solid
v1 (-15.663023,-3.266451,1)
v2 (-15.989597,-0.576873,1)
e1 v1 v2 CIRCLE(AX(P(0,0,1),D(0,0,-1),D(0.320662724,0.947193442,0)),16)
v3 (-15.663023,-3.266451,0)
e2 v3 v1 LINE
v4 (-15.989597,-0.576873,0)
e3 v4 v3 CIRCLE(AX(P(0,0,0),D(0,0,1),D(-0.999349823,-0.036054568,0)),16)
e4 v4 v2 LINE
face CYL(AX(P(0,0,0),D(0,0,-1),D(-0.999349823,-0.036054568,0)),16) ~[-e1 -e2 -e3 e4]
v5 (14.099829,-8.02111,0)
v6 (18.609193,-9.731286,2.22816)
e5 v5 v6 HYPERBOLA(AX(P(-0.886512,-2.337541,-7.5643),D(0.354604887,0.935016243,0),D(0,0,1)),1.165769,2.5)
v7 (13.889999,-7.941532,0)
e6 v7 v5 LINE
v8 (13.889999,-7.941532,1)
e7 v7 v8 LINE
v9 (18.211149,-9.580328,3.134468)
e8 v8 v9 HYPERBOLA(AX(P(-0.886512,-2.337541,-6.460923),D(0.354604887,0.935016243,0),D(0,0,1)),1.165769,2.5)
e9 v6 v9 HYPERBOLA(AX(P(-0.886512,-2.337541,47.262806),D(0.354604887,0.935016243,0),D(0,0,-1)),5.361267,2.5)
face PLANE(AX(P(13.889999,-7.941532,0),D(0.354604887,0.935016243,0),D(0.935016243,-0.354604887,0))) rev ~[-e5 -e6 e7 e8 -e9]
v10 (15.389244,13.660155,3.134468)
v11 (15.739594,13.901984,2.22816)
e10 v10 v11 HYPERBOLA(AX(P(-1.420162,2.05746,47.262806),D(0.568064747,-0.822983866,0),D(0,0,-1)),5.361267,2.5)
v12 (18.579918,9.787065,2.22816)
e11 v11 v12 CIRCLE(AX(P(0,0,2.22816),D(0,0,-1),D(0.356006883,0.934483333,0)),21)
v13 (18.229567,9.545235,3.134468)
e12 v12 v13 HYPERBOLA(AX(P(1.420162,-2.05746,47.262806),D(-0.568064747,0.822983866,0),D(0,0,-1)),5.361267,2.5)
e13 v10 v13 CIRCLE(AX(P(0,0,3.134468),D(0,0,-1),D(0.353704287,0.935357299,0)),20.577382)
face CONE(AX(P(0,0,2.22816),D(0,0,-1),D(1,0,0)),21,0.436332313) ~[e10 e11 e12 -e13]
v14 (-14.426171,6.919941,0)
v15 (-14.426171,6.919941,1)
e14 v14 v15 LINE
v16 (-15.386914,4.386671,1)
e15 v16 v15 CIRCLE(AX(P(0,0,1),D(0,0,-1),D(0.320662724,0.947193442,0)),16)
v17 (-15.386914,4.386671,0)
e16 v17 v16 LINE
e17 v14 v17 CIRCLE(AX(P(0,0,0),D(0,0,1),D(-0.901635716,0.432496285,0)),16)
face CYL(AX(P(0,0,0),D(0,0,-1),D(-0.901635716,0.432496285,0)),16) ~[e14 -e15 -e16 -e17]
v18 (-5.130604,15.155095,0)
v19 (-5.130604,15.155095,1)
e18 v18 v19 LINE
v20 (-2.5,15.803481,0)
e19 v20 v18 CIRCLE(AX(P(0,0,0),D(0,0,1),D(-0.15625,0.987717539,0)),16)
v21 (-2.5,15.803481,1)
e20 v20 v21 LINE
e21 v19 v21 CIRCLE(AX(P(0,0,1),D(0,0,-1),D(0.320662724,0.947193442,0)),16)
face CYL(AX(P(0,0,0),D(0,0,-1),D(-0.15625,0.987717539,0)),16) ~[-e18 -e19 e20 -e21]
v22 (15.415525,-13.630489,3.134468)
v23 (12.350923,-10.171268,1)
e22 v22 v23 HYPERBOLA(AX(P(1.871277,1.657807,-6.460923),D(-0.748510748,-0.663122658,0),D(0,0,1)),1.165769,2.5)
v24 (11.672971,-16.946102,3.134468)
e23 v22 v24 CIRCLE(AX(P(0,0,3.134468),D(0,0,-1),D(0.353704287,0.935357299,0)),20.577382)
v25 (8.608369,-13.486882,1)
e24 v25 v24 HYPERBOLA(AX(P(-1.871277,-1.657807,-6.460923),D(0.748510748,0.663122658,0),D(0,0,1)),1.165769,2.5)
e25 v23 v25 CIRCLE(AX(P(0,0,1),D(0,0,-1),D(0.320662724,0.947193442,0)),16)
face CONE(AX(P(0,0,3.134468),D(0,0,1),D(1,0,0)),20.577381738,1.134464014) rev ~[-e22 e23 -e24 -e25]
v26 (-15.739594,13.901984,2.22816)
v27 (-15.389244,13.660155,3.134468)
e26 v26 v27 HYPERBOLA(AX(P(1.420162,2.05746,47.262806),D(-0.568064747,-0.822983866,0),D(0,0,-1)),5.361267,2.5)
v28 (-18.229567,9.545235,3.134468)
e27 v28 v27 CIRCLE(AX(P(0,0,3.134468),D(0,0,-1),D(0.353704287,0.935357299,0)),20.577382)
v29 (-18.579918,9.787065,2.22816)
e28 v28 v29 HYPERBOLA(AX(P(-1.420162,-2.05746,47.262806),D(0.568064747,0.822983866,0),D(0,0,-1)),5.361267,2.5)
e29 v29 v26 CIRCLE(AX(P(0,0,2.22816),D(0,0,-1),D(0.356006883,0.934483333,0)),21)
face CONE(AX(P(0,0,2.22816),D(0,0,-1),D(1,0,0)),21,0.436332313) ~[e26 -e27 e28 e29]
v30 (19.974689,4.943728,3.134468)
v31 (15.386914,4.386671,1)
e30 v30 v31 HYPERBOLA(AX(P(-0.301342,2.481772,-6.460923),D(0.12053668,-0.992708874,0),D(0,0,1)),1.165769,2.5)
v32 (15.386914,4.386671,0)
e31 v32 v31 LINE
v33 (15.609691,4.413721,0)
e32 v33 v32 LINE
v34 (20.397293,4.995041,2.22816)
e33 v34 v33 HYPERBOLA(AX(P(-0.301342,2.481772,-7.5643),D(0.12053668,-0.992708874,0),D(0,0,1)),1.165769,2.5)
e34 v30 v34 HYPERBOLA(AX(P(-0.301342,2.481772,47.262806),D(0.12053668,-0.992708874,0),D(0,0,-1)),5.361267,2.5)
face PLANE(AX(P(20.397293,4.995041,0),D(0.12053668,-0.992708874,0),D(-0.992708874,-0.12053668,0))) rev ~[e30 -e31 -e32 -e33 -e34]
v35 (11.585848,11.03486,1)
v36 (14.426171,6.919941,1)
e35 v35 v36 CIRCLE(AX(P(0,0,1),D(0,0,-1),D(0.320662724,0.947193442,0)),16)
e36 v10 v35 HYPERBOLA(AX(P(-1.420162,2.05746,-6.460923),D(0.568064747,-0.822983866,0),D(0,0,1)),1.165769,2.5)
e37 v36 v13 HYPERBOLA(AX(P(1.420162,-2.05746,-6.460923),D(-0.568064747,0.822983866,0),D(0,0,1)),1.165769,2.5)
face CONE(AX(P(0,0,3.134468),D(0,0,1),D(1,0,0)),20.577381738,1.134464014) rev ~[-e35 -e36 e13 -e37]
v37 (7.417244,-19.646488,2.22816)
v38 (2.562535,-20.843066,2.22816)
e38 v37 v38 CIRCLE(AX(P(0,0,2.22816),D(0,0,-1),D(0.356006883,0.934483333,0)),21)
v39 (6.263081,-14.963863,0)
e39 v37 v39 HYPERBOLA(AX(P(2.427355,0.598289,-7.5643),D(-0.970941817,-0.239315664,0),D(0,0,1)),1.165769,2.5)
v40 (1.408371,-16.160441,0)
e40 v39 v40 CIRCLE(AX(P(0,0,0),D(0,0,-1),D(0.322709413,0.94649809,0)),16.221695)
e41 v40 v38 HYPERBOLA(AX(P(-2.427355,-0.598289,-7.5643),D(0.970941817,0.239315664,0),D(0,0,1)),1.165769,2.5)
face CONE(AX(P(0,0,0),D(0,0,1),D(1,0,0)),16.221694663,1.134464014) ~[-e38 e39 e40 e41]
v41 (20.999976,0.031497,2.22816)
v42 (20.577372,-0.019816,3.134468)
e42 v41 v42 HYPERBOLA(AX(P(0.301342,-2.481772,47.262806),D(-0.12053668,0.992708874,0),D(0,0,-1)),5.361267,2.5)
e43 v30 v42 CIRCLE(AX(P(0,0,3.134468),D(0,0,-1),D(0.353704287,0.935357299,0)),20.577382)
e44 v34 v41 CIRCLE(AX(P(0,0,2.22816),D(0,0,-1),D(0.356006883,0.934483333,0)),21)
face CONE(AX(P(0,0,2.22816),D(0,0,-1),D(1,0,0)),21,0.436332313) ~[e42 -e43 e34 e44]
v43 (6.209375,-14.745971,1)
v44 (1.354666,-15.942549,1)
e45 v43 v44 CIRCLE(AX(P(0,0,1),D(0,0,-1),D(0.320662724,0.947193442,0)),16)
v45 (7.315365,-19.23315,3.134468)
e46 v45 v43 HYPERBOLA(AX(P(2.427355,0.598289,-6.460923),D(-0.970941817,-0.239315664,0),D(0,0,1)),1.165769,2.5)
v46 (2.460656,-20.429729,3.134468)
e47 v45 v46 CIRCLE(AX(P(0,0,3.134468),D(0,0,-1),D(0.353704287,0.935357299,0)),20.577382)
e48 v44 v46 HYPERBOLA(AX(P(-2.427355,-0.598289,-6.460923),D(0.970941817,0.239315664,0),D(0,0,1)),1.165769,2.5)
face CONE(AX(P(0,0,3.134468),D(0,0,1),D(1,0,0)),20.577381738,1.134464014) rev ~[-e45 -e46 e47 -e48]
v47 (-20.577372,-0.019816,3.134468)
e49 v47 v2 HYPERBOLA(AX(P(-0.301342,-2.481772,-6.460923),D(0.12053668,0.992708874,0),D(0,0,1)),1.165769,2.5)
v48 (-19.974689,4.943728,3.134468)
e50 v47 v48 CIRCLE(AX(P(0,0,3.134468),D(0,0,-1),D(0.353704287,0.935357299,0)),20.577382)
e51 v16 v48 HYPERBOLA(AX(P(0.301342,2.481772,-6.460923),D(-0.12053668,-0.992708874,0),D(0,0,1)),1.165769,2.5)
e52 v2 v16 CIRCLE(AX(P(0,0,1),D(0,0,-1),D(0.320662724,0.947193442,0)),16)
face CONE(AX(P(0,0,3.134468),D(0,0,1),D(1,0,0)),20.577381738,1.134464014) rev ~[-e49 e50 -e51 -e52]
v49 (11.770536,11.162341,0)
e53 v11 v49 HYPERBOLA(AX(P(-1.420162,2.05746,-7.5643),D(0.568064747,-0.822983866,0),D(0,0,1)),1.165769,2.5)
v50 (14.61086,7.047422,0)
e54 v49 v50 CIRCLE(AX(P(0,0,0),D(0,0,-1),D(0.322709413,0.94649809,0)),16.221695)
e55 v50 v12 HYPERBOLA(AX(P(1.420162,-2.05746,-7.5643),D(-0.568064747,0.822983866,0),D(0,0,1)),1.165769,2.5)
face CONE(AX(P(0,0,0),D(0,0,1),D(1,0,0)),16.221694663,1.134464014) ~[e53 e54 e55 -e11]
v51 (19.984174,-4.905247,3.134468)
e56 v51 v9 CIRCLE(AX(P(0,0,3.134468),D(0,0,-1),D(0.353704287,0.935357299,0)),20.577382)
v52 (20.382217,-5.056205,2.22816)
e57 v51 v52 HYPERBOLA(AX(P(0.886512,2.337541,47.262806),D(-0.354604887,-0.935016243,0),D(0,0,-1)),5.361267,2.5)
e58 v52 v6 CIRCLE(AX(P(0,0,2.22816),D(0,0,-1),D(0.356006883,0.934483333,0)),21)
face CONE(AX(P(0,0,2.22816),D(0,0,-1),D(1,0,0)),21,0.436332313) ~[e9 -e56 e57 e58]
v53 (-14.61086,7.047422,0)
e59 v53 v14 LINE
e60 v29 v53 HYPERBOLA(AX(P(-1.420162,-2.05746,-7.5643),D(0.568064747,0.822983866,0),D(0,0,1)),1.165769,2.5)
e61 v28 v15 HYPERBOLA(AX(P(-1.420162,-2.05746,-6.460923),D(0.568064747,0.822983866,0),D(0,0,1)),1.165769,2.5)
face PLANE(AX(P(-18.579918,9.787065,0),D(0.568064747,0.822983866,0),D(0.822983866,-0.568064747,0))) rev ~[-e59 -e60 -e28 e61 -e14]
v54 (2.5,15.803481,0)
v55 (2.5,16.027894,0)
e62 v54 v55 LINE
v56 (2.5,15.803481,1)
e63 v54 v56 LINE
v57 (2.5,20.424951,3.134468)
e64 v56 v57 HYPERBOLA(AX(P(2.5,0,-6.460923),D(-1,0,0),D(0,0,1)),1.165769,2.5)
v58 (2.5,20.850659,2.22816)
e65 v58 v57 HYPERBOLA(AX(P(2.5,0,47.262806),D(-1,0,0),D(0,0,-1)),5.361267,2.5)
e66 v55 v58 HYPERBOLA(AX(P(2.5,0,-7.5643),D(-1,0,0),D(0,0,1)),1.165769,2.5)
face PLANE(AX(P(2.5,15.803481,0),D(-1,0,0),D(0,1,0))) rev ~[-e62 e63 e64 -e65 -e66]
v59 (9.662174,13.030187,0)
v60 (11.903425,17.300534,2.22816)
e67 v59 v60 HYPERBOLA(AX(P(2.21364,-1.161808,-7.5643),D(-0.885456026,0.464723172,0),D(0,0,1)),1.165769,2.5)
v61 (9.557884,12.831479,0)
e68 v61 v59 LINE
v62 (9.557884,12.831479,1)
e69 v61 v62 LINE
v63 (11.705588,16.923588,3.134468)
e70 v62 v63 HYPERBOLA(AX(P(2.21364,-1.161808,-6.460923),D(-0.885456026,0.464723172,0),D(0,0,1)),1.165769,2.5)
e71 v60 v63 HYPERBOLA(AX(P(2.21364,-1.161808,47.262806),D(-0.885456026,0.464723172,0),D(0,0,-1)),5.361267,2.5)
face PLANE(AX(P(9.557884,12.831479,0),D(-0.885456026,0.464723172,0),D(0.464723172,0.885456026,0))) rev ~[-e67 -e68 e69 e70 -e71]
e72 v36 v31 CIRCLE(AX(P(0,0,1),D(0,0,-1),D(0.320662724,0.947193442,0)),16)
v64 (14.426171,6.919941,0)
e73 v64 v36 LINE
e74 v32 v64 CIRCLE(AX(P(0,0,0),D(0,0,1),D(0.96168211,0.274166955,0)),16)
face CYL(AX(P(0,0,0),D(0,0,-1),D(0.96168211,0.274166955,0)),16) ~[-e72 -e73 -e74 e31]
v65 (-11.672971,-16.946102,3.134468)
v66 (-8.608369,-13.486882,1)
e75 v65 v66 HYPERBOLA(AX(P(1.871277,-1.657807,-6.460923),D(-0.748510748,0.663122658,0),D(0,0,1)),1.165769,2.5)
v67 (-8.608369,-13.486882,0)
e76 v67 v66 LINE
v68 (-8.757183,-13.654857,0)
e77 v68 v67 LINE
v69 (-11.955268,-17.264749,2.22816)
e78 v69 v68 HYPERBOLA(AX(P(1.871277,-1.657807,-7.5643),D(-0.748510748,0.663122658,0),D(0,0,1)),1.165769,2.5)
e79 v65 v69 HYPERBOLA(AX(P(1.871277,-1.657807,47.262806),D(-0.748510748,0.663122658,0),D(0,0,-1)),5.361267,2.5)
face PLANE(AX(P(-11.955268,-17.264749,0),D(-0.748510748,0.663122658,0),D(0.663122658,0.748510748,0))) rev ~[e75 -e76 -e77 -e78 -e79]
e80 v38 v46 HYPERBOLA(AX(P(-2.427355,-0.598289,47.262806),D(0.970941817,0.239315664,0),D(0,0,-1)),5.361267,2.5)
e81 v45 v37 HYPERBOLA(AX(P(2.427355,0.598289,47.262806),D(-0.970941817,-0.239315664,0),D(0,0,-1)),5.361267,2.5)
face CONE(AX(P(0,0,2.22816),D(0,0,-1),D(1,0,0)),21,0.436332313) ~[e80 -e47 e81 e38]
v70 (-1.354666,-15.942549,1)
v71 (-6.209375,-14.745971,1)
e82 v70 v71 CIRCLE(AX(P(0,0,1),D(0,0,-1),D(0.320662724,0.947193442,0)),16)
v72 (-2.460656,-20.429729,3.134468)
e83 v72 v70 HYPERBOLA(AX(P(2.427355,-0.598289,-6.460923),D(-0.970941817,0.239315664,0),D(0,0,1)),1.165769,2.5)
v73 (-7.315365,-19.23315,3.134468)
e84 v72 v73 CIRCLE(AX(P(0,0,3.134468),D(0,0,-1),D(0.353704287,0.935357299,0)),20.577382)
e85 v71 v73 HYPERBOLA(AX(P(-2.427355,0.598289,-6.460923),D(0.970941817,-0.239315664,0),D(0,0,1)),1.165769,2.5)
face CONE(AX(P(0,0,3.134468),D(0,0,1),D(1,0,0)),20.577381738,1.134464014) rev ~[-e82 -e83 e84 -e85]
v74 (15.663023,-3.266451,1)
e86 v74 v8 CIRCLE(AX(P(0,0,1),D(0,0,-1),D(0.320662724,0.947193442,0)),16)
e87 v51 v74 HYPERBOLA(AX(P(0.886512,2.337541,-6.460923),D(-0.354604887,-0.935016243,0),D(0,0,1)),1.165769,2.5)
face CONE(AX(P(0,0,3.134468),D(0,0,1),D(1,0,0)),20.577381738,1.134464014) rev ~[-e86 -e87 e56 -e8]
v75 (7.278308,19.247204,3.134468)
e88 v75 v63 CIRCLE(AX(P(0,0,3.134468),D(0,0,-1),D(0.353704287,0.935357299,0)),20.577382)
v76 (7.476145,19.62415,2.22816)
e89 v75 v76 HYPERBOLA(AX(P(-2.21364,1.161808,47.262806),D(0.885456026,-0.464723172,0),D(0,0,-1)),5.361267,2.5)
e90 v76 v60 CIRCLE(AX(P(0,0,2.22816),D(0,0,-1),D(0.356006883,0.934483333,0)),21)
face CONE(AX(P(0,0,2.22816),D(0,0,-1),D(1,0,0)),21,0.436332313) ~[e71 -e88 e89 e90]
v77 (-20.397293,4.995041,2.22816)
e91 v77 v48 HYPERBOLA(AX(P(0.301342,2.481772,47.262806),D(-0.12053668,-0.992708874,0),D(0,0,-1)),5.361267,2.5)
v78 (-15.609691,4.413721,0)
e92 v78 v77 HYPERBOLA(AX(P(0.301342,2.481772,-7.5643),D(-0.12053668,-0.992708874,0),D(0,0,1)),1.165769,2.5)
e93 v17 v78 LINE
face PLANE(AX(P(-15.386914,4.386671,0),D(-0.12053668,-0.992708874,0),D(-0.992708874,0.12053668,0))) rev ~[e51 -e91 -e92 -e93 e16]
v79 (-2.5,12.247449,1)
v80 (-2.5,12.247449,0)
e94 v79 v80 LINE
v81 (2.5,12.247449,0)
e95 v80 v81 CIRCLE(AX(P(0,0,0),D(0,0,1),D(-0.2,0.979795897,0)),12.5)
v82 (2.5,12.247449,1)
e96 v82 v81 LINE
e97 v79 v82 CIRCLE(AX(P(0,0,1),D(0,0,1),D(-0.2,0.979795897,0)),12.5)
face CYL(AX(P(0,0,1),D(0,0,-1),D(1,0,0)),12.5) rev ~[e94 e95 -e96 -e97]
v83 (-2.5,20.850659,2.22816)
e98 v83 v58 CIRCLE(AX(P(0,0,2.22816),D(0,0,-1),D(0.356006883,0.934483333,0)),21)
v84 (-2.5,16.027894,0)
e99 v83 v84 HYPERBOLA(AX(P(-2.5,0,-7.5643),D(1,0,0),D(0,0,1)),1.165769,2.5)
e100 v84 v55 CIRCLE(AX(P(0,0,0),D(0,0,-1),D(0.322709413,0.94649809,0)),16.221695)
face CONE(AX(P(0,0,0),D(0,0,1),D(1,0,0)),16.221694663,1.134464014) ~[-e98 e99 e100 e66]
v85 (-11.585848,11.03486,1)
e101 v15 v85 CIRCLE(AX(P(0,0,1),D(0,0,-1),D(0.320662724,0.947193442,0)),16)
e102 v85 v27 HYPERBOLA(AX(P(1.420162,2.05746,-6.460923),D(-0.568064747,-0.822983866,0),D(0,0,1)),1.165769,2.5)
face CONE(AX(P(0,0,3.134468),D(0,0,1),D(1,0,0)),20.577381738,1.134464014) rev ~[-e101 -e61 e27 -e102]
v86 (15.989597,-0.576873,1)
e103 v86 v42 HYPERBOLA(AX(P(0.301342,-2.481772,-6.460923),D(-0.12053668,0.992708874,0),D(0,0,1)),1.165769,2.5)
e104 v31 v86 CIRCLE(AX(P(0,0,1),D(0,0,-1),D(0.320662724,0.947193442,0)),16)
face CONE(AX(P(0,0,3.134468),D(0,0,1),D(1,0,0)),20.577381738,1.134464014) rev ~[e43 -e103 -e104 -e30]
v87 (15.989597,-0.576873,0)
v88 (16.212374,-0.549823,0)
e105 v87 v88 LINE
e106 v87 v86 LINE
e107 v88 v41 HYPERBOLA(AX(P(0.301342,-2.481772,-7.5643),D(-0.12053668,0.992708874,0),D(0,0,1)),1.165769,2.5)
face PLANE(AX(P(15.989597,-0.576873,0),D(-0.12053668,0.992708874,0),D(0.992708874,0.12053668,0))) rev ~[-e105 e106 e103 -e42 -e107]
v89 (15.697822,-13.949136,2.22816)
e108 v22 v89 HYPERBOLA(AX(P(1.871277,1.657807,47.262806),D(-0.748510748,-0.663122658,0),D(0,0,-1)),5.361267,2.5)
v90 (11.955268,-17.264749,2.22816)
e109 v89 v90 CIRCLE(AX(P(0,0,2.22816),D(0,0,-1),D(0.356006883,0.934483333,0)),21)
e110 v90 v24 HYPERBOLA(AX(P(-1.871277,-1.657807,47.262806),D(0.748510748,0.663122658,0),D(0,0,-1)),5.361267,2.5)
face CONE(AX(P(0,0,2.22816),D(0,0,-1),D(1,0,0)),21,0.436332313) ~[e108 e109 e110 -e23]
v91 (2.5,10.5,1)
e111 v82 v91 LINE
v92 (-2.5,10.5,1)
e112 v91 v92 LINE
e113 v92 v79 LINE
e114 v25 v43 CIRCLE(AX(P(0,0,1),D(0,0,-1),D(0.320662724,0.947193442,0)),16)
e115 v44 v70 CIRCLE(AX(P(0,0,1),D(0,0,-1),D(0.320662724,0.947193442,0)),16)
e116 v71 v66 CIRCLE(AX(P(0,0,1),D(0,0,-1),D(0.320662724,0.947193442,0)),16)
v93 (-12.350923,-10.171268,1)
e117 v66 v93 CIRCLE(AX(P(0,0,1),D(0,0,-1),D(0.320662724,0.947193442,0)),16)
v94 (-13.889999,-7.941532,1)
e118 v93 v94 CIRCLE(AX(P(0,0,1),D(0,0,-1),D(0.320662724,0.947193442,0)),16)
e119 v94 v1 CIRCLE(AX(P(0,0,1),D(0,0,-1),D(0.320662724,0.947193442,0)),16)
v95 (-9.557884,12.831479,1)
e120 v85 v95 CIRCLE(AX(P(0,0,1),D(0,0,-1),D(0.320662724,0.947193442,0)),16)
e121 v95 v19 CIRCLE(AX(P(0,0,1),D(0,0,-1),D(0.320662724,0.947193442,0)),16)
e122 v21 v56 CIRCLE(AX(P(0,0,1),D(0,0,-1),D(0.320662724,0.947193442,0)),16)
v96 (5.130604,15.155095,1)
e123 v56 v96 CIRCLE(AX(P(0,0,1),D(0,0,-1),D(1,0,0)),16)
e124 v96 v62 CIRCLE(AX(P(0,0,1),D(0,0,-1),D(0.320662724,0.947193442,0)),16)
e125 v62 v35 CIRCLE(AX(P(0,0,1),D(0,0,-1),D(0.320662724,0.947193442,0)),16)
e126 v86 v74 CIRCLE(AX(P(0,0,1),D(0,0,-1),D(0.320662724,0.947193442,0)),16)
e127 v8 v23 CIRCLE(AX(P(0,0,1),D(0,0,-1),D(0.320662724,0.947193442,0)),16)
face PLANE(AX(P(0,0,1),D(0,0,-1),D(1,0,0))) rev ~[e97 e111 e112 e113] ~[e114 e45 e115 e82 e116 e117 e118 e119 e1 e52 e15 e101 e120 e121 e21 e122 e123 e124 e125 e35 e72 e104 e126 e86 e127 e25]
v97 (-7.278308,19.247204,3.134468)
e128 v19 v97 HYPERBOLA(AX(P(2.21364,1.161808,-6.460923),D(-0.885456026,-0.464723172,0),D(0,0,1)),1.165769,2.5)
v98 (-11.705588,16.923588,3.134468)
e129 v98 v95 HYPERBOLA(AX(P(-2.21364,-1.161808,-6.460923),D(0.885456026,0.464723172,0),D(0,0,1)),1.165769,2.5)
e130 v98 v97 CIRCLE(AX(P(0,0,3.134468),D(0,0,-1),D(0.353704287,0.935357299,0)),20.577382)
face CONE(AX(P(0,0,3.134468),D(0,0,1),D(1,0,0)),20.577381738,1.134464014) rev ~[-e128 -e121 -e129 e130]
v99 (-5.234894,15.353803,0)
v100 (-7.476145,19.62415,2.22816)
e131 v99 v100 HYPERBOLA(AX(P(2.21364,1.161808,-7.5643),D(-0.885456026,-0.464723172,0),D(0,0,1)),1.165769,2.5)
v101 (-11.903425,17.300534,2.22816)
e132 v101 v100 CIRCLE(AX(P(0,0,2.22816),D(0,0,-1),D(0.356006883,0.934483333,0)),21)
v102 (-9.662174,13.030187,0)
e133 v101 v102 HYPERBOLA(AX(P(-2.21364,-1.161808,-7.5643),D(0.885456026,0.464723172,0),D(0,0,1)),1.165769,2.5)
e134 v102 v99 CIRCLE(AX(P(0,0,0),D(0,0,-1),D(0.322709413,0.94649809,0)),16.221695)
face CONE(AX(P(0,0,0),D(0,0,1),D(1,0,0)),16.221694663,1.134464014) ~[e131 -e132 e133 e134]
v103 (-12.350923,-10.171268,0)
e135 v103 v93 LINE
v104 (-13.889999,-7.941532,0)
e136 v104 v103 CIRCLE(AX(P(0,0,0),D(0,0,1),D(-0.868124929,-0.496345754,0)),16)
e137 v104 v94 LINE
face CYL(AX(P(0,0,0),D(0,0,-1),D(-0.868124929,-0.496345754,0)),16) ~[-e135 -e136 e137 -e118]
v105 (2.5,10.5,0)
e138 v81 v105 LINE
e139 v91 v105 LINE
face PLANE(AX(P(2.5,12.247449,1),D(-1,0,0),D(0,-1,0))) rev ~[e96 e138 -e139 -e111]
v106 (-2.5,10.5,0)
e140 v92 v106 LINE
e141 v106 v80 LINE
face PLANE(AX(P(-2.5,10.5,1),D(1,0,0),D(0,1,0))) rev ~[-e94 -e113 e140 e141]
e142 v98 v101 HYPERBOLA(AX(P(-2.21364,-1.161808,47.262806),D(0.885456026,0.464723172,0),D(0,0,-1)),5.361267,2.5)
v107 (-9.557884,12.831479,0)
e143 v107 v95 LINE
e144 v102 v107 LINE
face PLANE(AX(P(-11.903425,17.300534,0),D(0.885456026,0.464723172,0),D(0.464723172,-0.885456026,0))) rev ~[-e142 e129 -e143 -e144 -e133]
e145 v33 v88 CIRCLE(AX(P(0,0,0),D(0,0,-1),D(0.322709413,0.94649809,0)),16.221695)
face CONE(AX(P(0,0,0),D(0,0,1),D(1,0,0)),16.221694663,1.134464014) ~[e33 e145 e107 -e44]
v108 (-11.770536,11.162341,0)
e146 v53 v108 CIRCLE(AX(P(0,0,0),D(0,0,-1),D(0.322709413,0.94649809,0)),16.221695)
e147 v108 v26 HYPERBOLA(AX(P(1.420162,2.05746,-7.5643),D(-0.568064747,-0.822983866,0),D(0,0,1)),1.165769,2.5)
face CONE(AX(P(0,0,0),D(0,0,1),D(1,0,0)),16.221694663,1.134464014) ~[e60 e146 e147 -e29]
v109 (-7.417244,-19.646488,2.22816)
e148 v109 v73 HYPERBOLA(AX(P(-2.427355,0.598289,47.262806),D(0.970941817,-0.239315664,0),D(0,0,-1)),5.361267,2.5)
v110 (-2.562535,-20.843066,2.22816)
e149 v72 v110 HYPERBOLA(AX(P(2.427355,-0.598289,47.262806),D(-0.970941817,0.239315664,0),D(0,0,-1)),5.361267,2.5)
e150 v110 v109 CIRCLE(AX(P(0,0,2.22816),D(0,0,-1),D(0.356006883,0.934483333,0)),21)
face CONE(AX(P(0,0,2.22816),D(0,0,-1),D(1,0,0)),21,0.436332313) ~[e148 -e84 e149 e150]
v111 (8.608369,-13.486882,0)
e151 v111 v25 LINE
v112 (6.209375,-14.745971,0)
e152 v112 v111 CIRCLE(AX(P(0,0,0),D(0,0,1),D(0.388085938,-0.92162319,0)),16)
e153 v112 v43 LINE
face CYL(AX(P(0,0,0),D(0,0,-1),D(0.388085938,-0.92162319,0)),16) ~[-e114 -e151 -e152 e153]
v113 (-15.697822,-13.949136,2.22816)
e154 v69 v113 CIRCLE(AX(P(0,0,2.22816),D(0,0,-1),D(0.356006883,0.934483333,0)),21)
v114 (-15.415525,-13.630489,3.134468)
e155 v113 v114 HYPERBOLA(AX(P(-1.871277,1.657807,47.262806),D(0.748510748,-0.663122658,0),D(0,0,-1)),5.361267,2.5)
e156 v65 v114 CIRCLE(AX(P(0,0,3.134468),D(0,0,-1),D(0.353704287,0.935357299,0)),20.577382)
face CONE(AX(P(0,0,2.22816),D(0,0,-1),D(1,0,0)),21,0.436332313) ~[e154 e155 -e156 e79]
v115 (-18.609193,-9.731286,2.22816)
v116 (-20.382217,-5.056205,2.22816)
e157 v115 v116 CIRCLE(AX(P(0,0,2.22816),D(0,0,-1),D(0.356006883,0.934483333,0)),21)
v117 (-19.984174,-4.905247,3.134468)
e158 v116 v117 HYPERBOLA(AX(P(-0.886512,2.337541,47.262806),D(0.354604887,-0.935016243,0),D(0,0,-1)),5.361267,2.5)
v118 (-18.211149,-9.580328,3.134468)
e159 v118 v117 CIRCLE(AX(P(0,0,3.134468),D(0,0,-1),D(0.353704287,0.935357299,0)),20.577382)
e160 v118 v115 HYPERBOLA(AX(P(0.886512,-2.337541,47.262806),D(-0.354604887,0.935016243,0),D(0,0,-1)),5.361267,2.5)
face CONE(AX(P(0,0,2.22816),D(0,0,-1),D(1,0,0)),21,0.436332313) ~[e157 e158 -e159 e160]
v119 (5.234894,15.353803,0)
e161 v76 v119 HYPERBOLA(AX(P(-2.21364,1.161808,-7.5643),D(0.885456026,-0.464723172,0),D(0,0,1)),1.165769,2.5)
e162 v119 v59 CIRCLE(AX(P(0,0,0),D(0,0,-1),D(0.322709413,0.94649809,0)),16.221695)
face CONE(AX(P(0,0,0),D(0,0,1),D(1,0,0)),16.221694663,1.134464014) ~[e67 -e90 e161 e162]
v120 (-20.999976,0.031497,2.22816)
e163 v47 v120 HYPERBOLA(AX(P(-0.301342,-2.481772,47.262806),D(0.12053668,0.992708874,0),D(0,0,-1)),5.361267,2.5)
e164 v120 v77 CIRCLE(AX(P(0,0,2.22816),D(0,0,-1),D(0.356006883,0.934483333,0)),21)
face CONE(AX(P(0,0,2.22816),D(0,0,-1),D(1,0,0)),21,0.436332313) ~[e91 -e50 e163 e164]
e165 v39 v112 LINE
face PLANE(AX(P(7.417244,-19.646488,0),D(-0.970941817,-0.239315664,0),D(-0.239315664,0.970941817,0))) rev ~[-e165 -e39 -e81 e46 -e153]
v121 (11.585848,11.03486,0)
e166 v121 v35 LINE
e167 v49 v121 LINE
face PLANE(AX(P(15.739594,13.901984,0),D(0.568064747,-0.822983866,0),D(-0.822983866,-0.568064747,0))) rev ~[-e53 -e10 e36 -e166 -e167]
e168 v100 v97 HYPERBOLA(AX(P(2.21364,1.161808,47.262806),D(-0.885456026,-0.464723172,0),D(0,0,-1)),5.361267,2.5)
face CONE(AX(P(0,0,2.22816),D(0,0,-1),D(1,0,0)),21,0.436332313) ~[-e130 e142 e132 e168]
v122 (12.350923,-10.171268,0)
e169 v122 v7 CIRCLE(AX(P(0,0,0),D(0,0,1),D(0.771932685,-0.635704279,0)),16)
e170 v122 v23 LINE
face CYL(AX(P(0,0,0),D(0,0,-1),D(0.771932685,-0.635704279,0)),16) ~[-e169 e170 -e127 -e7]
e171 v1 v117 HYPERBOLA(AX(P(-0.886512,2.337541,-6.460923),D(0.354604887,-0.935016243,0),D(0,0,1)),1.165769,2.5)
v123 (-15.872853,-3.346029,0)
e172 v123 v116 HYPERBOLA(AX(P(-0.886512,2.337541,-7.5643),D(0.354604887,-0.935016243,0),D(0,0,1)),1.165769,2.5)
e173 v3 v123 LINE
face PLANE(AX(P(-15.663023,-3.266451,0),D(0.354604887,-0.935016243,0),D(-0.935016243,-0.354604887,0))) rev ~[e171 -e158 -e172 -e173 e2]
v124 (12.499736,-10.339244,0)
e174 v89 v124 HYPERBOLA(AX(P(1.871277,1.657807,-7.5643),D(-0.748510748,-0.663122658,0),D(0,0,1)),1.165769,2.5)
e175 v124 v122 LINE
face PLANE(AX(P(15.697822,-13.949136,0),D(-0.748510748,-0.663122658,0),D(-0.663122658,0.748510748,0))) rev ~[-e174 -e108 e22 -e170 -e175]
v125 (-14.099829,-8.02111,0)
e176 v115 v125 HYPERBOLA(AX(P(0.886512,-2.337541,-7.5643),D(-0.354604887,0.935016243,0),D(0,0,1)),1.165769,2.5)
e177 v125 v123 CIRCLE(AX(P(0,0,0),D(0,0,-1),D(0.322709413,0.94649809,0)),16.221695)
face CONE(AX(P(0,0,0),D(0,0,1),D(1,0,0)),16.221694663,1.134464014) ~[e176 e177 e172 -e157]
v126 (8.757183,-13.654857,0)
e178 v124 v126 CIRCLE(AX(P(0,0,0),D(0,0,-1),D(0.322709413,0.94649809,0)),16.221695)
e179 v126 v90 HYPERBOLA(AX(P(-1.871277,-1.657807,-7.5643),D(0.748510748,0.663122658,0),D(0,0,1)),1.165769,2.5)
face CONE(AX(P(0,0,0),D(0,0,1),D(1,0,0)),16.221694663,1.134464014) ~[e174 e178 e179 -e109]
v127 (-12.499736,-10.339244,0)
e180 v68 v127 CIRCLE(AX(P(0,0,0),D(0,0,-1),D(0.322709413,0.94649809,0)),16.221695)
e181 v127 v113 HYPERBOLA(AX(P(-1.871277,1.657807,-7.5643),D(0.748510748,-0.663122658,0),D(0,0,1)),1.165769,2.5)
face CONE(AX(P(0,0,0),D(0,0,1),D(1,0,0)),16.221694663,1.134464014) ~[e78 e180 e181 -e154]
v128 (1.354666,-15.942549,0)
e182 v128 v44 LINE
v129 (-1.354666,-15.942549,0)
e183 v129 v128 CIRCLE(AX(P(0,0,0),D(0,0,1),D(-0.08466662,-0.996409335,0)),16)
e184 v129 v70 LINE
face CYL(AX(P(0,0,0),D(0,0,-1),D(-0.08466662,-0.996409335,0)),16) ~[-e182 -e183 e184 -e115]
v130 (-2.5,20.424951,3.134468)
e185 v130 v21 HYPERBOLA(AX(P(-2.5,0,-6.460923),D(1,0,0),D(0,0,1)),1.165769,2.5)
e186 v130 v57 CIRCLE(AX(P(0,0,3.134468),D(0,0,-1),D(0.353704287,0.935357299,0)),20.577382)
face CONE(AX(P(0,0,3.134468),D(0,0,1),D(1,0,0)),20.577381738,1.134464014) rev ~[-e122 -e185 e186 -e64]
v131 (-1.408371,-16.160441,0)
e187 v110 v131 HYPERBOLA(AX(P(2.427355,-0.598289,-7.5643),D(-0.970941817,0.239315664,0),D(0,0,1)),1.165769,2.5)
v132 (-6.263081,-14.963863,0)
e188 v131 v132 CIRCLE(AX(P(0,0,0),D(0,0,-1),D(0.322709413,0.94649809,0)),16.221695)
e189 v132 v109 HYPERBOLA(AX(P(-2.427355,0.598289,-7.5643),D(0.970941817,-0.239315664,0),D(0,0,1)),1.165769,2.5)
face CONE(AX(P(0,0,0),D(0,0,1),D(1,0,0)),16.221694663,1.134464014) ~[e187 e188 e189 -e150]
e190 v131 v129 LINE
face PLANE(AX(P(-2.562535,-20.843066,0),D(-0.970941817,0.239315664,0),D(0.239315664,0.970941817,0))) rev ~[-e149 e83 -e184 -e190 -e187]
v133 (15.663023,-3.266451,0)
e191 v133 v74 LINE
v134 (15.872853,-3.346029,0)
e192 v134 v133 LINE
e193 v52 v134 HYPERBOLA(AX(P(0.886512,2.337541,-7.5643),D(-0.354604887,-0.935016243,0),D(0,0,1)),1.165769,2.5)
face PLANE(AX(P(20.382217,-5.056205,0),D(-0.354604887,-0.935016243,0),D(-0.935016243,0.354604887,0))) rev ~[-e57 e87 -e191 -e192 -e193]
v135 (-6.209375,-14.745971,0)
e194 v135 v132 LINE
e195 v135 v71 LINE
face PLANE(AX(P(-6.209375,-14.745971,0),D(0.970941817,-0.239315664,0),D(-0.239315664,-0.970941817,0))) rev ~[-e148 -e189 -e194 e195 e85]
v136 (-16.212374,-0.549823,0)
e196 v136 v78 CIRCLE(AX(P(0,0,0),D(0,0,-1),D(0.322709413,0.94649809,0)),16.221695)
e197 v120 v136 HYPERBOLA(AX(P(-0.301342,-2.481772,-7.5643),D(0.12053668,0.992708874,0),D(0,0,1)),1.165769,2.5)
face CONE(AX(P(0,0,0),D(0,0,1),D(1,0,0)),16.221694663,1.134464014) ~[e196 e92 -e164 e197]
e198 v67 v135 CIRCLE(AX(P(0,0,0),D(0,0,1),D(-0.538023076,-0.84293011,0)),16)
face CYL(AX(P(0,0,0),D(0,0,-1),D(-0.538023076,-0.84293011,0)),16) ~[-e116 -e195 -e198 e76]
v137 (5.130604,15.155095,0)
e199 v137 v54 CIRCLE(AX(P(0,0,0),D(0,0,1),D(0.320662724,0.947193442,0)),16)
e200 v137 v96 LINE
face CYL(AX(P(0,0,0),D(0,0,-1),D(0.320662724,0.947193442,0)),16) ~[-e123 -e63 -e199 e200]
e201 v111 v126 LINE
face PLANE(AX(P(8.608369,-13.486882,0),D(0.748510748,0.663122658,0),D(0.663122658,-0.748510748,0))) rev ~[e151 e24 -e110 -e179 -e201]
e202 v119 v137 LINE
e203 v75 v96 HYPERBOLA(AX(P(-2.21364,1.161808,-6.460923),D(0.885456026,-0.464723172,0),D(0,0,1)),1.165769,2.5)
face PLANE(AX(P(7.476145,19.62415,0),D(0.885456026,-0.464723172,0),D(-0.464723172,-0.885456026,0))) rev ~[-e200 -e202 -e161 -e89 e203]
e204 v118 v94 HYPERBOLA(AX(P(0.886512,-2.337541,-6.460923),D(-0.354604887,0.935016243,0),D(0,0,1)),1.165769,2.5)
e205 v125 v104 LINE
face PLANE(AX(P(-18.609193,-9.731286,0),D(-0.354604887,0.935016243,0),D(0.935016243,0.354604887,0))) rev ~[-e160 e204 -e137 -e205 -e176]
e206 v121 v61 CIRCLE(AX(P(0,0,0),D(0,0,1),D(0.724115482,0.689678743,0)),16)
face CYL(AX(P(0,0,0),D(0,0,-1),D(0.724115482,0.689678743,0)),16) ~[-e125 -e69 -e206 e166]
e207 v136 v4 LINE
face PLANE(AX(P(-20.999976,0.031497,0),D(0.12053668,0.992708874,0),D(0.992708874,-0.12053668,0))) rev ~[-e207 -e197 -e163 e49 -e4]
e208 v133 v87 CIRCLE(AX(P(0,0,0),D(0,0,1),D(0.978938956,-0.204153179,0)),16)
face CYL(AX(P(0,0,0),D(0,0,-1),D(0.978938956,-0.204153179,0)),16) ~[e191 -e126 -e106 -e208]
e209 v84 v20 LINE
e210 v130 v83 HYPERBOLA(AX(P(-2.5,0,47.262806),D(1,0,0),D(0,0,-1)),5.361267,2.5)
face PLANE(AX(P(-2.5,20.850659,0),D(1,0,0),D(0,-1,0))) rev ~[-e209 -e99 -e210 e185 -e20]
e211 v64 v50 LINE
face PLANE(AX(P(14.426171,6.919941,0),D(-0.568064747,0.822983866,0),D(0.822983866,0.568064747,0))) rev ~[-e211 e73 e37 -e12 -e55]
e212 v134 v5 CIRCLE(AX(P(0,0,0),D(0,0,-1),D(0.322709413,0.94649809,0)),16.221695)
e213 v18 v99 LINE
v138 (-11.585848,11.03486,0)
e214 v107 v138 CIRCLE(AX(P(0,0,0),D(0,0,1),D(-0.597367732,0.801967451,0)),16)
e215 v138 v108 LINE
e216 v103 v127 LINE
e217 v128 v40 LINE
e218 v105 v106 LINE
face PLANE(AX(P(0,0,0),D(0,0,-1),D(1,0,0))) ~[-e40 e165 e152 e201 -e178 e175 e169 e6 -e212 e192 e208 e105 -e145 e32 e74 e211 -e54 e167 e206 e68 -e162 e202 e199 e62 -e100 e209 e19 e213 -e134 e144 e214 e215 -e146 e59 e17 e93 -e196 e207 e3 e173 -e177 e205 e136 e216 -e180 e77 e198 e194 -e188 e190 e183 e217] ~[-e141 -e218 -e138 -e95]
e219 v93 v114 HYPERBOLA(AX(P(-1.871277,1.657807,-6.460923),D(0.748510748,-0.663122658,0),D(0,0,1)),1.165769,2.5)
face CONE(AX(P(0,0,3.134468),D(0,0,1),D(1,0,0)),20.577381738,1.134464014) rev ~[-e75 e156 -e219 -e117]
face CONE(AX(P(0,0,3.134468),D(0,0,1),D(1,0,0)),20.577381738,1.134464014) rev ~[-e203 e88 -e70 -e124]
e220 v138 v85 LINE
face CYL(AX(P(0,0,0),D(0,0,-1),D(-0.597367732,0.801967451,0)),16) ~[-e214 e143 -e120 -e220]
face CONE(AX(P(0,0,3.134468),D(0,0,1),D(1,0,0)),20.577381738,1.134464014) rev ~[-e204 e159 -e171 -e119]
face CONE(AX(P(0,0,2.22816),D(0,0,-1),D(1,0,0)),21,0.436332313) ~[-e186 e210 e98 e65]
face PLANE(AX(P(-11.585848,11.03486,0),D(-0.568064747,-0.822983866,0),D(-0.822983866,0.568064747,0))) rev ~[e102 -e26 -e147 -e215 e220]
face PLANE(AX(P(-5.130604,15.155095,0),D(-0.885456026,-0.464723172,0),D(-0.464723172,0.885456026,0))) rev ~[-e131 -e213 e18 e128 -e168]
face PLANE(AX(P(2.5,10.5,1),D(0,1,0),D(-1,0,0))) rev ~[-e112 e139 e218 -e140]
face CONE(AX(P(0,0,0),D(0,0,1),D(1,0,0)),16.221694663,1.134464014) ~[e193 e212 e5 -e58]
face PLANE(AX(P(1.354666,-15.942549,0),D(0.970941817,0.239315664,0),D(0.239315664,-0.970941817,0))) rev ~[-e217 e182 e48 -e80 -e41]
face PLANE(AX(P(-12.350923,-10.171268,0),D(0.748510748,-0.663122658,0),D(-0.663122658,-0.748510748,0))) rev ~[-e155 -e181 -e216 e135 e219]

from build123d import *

# Parameters (mm, degrees)
CUT_EXTRUDE2_DEPTH  = 30.863437355
CIRPATTERN1_COUNT   = 13
BOSS_EXTRUDE1_START = -1
BOSS_EXTRUDE1_DEPTH = 1


with BuildPart() as part:
    # Sketch1 → Base-Revolve (revolve)
    with BuildSketch(Plane(origin=(0, 0, 0), x_dir=(0, 0, -1), z_dir=(1, 0, 0)), mode=Mode.PRIVATE) as base_revolve_sk:
        Polygon((0, 12.5), (0, 16.221694663), (-2.228160372, 21), (-3.134468159, 20.577381738), (-1, 16), (-1, 12.5), align=None)
    revolve(base_revolve_sk.sketch.rotate(Axis((0, 0, 14), (0, 0, -1)), 90), axis=Axis((0, 0, 14), (0, 0, -1)))

    # Sketch3 → Cut-Extrude2 (cut, through all)
    with BuildSketch(Plane(origin=(0, 0, 0), x_dir=(-1, 0, 0), z_dir=(0, 0, -1))):
        with BuildLine():
            Line((-2.5, 15.803480629), (-2.5, 20.850659462))
            ThreePointArc((-2.5, 20.850659462), (-5.02562895, 20.389778166), (-7.47614454, 19.62414999))
            Line((-7.47614454, 19.62414999), (-5.130603583, 15.15509508))
            ThreePointArc((-5.130603583, 15.15509508), (-3.829050629, 15.535069079), (-2.5, 15.803480629))
        make_face()
    cut_extrude2 = extrude(amount=-CUT_EXTRUDE2_DEPTH, mode=Mode.SUBTRACT)

    # CirPattern1: Cut-Extrude2 ×13 about axis
    cirpattern1_axis = Axis((0, 0, 0), (0, 0, 1))
    for i in range(1, CIRPATTERN1_COUNT):
        add(cut_extrude2.rotate(cirpattern1_axis, i * 360 / CIRPATTERN1_COUNT), mode=Mode.SUBTRACT)

    # Sketch4 → Boss-Extrude1 (add)
    with BuildSketch(Plane(origin=(0, 0, 0), x_dir=(-1, 0, 0), z_dir=(0, 0, -1)).offset(BOSS_EXTRUDE1_START)):
        with BuildLine():
            Line((-2.5, 12.247448714), (-2.5, 10.5))
            Line((-2.5, 10.5), (2.5, 10.5))
            Line((2.5, 10.5), (2.5, 12.247448714))
            ThreePointArc((2.5, 12.247448714), (0, 12.5), (-2.5, 12.247448714))
        make_face()
    extrude(amount=BOSS_EXTRUDE1_DEPTH)


solid = part.part
